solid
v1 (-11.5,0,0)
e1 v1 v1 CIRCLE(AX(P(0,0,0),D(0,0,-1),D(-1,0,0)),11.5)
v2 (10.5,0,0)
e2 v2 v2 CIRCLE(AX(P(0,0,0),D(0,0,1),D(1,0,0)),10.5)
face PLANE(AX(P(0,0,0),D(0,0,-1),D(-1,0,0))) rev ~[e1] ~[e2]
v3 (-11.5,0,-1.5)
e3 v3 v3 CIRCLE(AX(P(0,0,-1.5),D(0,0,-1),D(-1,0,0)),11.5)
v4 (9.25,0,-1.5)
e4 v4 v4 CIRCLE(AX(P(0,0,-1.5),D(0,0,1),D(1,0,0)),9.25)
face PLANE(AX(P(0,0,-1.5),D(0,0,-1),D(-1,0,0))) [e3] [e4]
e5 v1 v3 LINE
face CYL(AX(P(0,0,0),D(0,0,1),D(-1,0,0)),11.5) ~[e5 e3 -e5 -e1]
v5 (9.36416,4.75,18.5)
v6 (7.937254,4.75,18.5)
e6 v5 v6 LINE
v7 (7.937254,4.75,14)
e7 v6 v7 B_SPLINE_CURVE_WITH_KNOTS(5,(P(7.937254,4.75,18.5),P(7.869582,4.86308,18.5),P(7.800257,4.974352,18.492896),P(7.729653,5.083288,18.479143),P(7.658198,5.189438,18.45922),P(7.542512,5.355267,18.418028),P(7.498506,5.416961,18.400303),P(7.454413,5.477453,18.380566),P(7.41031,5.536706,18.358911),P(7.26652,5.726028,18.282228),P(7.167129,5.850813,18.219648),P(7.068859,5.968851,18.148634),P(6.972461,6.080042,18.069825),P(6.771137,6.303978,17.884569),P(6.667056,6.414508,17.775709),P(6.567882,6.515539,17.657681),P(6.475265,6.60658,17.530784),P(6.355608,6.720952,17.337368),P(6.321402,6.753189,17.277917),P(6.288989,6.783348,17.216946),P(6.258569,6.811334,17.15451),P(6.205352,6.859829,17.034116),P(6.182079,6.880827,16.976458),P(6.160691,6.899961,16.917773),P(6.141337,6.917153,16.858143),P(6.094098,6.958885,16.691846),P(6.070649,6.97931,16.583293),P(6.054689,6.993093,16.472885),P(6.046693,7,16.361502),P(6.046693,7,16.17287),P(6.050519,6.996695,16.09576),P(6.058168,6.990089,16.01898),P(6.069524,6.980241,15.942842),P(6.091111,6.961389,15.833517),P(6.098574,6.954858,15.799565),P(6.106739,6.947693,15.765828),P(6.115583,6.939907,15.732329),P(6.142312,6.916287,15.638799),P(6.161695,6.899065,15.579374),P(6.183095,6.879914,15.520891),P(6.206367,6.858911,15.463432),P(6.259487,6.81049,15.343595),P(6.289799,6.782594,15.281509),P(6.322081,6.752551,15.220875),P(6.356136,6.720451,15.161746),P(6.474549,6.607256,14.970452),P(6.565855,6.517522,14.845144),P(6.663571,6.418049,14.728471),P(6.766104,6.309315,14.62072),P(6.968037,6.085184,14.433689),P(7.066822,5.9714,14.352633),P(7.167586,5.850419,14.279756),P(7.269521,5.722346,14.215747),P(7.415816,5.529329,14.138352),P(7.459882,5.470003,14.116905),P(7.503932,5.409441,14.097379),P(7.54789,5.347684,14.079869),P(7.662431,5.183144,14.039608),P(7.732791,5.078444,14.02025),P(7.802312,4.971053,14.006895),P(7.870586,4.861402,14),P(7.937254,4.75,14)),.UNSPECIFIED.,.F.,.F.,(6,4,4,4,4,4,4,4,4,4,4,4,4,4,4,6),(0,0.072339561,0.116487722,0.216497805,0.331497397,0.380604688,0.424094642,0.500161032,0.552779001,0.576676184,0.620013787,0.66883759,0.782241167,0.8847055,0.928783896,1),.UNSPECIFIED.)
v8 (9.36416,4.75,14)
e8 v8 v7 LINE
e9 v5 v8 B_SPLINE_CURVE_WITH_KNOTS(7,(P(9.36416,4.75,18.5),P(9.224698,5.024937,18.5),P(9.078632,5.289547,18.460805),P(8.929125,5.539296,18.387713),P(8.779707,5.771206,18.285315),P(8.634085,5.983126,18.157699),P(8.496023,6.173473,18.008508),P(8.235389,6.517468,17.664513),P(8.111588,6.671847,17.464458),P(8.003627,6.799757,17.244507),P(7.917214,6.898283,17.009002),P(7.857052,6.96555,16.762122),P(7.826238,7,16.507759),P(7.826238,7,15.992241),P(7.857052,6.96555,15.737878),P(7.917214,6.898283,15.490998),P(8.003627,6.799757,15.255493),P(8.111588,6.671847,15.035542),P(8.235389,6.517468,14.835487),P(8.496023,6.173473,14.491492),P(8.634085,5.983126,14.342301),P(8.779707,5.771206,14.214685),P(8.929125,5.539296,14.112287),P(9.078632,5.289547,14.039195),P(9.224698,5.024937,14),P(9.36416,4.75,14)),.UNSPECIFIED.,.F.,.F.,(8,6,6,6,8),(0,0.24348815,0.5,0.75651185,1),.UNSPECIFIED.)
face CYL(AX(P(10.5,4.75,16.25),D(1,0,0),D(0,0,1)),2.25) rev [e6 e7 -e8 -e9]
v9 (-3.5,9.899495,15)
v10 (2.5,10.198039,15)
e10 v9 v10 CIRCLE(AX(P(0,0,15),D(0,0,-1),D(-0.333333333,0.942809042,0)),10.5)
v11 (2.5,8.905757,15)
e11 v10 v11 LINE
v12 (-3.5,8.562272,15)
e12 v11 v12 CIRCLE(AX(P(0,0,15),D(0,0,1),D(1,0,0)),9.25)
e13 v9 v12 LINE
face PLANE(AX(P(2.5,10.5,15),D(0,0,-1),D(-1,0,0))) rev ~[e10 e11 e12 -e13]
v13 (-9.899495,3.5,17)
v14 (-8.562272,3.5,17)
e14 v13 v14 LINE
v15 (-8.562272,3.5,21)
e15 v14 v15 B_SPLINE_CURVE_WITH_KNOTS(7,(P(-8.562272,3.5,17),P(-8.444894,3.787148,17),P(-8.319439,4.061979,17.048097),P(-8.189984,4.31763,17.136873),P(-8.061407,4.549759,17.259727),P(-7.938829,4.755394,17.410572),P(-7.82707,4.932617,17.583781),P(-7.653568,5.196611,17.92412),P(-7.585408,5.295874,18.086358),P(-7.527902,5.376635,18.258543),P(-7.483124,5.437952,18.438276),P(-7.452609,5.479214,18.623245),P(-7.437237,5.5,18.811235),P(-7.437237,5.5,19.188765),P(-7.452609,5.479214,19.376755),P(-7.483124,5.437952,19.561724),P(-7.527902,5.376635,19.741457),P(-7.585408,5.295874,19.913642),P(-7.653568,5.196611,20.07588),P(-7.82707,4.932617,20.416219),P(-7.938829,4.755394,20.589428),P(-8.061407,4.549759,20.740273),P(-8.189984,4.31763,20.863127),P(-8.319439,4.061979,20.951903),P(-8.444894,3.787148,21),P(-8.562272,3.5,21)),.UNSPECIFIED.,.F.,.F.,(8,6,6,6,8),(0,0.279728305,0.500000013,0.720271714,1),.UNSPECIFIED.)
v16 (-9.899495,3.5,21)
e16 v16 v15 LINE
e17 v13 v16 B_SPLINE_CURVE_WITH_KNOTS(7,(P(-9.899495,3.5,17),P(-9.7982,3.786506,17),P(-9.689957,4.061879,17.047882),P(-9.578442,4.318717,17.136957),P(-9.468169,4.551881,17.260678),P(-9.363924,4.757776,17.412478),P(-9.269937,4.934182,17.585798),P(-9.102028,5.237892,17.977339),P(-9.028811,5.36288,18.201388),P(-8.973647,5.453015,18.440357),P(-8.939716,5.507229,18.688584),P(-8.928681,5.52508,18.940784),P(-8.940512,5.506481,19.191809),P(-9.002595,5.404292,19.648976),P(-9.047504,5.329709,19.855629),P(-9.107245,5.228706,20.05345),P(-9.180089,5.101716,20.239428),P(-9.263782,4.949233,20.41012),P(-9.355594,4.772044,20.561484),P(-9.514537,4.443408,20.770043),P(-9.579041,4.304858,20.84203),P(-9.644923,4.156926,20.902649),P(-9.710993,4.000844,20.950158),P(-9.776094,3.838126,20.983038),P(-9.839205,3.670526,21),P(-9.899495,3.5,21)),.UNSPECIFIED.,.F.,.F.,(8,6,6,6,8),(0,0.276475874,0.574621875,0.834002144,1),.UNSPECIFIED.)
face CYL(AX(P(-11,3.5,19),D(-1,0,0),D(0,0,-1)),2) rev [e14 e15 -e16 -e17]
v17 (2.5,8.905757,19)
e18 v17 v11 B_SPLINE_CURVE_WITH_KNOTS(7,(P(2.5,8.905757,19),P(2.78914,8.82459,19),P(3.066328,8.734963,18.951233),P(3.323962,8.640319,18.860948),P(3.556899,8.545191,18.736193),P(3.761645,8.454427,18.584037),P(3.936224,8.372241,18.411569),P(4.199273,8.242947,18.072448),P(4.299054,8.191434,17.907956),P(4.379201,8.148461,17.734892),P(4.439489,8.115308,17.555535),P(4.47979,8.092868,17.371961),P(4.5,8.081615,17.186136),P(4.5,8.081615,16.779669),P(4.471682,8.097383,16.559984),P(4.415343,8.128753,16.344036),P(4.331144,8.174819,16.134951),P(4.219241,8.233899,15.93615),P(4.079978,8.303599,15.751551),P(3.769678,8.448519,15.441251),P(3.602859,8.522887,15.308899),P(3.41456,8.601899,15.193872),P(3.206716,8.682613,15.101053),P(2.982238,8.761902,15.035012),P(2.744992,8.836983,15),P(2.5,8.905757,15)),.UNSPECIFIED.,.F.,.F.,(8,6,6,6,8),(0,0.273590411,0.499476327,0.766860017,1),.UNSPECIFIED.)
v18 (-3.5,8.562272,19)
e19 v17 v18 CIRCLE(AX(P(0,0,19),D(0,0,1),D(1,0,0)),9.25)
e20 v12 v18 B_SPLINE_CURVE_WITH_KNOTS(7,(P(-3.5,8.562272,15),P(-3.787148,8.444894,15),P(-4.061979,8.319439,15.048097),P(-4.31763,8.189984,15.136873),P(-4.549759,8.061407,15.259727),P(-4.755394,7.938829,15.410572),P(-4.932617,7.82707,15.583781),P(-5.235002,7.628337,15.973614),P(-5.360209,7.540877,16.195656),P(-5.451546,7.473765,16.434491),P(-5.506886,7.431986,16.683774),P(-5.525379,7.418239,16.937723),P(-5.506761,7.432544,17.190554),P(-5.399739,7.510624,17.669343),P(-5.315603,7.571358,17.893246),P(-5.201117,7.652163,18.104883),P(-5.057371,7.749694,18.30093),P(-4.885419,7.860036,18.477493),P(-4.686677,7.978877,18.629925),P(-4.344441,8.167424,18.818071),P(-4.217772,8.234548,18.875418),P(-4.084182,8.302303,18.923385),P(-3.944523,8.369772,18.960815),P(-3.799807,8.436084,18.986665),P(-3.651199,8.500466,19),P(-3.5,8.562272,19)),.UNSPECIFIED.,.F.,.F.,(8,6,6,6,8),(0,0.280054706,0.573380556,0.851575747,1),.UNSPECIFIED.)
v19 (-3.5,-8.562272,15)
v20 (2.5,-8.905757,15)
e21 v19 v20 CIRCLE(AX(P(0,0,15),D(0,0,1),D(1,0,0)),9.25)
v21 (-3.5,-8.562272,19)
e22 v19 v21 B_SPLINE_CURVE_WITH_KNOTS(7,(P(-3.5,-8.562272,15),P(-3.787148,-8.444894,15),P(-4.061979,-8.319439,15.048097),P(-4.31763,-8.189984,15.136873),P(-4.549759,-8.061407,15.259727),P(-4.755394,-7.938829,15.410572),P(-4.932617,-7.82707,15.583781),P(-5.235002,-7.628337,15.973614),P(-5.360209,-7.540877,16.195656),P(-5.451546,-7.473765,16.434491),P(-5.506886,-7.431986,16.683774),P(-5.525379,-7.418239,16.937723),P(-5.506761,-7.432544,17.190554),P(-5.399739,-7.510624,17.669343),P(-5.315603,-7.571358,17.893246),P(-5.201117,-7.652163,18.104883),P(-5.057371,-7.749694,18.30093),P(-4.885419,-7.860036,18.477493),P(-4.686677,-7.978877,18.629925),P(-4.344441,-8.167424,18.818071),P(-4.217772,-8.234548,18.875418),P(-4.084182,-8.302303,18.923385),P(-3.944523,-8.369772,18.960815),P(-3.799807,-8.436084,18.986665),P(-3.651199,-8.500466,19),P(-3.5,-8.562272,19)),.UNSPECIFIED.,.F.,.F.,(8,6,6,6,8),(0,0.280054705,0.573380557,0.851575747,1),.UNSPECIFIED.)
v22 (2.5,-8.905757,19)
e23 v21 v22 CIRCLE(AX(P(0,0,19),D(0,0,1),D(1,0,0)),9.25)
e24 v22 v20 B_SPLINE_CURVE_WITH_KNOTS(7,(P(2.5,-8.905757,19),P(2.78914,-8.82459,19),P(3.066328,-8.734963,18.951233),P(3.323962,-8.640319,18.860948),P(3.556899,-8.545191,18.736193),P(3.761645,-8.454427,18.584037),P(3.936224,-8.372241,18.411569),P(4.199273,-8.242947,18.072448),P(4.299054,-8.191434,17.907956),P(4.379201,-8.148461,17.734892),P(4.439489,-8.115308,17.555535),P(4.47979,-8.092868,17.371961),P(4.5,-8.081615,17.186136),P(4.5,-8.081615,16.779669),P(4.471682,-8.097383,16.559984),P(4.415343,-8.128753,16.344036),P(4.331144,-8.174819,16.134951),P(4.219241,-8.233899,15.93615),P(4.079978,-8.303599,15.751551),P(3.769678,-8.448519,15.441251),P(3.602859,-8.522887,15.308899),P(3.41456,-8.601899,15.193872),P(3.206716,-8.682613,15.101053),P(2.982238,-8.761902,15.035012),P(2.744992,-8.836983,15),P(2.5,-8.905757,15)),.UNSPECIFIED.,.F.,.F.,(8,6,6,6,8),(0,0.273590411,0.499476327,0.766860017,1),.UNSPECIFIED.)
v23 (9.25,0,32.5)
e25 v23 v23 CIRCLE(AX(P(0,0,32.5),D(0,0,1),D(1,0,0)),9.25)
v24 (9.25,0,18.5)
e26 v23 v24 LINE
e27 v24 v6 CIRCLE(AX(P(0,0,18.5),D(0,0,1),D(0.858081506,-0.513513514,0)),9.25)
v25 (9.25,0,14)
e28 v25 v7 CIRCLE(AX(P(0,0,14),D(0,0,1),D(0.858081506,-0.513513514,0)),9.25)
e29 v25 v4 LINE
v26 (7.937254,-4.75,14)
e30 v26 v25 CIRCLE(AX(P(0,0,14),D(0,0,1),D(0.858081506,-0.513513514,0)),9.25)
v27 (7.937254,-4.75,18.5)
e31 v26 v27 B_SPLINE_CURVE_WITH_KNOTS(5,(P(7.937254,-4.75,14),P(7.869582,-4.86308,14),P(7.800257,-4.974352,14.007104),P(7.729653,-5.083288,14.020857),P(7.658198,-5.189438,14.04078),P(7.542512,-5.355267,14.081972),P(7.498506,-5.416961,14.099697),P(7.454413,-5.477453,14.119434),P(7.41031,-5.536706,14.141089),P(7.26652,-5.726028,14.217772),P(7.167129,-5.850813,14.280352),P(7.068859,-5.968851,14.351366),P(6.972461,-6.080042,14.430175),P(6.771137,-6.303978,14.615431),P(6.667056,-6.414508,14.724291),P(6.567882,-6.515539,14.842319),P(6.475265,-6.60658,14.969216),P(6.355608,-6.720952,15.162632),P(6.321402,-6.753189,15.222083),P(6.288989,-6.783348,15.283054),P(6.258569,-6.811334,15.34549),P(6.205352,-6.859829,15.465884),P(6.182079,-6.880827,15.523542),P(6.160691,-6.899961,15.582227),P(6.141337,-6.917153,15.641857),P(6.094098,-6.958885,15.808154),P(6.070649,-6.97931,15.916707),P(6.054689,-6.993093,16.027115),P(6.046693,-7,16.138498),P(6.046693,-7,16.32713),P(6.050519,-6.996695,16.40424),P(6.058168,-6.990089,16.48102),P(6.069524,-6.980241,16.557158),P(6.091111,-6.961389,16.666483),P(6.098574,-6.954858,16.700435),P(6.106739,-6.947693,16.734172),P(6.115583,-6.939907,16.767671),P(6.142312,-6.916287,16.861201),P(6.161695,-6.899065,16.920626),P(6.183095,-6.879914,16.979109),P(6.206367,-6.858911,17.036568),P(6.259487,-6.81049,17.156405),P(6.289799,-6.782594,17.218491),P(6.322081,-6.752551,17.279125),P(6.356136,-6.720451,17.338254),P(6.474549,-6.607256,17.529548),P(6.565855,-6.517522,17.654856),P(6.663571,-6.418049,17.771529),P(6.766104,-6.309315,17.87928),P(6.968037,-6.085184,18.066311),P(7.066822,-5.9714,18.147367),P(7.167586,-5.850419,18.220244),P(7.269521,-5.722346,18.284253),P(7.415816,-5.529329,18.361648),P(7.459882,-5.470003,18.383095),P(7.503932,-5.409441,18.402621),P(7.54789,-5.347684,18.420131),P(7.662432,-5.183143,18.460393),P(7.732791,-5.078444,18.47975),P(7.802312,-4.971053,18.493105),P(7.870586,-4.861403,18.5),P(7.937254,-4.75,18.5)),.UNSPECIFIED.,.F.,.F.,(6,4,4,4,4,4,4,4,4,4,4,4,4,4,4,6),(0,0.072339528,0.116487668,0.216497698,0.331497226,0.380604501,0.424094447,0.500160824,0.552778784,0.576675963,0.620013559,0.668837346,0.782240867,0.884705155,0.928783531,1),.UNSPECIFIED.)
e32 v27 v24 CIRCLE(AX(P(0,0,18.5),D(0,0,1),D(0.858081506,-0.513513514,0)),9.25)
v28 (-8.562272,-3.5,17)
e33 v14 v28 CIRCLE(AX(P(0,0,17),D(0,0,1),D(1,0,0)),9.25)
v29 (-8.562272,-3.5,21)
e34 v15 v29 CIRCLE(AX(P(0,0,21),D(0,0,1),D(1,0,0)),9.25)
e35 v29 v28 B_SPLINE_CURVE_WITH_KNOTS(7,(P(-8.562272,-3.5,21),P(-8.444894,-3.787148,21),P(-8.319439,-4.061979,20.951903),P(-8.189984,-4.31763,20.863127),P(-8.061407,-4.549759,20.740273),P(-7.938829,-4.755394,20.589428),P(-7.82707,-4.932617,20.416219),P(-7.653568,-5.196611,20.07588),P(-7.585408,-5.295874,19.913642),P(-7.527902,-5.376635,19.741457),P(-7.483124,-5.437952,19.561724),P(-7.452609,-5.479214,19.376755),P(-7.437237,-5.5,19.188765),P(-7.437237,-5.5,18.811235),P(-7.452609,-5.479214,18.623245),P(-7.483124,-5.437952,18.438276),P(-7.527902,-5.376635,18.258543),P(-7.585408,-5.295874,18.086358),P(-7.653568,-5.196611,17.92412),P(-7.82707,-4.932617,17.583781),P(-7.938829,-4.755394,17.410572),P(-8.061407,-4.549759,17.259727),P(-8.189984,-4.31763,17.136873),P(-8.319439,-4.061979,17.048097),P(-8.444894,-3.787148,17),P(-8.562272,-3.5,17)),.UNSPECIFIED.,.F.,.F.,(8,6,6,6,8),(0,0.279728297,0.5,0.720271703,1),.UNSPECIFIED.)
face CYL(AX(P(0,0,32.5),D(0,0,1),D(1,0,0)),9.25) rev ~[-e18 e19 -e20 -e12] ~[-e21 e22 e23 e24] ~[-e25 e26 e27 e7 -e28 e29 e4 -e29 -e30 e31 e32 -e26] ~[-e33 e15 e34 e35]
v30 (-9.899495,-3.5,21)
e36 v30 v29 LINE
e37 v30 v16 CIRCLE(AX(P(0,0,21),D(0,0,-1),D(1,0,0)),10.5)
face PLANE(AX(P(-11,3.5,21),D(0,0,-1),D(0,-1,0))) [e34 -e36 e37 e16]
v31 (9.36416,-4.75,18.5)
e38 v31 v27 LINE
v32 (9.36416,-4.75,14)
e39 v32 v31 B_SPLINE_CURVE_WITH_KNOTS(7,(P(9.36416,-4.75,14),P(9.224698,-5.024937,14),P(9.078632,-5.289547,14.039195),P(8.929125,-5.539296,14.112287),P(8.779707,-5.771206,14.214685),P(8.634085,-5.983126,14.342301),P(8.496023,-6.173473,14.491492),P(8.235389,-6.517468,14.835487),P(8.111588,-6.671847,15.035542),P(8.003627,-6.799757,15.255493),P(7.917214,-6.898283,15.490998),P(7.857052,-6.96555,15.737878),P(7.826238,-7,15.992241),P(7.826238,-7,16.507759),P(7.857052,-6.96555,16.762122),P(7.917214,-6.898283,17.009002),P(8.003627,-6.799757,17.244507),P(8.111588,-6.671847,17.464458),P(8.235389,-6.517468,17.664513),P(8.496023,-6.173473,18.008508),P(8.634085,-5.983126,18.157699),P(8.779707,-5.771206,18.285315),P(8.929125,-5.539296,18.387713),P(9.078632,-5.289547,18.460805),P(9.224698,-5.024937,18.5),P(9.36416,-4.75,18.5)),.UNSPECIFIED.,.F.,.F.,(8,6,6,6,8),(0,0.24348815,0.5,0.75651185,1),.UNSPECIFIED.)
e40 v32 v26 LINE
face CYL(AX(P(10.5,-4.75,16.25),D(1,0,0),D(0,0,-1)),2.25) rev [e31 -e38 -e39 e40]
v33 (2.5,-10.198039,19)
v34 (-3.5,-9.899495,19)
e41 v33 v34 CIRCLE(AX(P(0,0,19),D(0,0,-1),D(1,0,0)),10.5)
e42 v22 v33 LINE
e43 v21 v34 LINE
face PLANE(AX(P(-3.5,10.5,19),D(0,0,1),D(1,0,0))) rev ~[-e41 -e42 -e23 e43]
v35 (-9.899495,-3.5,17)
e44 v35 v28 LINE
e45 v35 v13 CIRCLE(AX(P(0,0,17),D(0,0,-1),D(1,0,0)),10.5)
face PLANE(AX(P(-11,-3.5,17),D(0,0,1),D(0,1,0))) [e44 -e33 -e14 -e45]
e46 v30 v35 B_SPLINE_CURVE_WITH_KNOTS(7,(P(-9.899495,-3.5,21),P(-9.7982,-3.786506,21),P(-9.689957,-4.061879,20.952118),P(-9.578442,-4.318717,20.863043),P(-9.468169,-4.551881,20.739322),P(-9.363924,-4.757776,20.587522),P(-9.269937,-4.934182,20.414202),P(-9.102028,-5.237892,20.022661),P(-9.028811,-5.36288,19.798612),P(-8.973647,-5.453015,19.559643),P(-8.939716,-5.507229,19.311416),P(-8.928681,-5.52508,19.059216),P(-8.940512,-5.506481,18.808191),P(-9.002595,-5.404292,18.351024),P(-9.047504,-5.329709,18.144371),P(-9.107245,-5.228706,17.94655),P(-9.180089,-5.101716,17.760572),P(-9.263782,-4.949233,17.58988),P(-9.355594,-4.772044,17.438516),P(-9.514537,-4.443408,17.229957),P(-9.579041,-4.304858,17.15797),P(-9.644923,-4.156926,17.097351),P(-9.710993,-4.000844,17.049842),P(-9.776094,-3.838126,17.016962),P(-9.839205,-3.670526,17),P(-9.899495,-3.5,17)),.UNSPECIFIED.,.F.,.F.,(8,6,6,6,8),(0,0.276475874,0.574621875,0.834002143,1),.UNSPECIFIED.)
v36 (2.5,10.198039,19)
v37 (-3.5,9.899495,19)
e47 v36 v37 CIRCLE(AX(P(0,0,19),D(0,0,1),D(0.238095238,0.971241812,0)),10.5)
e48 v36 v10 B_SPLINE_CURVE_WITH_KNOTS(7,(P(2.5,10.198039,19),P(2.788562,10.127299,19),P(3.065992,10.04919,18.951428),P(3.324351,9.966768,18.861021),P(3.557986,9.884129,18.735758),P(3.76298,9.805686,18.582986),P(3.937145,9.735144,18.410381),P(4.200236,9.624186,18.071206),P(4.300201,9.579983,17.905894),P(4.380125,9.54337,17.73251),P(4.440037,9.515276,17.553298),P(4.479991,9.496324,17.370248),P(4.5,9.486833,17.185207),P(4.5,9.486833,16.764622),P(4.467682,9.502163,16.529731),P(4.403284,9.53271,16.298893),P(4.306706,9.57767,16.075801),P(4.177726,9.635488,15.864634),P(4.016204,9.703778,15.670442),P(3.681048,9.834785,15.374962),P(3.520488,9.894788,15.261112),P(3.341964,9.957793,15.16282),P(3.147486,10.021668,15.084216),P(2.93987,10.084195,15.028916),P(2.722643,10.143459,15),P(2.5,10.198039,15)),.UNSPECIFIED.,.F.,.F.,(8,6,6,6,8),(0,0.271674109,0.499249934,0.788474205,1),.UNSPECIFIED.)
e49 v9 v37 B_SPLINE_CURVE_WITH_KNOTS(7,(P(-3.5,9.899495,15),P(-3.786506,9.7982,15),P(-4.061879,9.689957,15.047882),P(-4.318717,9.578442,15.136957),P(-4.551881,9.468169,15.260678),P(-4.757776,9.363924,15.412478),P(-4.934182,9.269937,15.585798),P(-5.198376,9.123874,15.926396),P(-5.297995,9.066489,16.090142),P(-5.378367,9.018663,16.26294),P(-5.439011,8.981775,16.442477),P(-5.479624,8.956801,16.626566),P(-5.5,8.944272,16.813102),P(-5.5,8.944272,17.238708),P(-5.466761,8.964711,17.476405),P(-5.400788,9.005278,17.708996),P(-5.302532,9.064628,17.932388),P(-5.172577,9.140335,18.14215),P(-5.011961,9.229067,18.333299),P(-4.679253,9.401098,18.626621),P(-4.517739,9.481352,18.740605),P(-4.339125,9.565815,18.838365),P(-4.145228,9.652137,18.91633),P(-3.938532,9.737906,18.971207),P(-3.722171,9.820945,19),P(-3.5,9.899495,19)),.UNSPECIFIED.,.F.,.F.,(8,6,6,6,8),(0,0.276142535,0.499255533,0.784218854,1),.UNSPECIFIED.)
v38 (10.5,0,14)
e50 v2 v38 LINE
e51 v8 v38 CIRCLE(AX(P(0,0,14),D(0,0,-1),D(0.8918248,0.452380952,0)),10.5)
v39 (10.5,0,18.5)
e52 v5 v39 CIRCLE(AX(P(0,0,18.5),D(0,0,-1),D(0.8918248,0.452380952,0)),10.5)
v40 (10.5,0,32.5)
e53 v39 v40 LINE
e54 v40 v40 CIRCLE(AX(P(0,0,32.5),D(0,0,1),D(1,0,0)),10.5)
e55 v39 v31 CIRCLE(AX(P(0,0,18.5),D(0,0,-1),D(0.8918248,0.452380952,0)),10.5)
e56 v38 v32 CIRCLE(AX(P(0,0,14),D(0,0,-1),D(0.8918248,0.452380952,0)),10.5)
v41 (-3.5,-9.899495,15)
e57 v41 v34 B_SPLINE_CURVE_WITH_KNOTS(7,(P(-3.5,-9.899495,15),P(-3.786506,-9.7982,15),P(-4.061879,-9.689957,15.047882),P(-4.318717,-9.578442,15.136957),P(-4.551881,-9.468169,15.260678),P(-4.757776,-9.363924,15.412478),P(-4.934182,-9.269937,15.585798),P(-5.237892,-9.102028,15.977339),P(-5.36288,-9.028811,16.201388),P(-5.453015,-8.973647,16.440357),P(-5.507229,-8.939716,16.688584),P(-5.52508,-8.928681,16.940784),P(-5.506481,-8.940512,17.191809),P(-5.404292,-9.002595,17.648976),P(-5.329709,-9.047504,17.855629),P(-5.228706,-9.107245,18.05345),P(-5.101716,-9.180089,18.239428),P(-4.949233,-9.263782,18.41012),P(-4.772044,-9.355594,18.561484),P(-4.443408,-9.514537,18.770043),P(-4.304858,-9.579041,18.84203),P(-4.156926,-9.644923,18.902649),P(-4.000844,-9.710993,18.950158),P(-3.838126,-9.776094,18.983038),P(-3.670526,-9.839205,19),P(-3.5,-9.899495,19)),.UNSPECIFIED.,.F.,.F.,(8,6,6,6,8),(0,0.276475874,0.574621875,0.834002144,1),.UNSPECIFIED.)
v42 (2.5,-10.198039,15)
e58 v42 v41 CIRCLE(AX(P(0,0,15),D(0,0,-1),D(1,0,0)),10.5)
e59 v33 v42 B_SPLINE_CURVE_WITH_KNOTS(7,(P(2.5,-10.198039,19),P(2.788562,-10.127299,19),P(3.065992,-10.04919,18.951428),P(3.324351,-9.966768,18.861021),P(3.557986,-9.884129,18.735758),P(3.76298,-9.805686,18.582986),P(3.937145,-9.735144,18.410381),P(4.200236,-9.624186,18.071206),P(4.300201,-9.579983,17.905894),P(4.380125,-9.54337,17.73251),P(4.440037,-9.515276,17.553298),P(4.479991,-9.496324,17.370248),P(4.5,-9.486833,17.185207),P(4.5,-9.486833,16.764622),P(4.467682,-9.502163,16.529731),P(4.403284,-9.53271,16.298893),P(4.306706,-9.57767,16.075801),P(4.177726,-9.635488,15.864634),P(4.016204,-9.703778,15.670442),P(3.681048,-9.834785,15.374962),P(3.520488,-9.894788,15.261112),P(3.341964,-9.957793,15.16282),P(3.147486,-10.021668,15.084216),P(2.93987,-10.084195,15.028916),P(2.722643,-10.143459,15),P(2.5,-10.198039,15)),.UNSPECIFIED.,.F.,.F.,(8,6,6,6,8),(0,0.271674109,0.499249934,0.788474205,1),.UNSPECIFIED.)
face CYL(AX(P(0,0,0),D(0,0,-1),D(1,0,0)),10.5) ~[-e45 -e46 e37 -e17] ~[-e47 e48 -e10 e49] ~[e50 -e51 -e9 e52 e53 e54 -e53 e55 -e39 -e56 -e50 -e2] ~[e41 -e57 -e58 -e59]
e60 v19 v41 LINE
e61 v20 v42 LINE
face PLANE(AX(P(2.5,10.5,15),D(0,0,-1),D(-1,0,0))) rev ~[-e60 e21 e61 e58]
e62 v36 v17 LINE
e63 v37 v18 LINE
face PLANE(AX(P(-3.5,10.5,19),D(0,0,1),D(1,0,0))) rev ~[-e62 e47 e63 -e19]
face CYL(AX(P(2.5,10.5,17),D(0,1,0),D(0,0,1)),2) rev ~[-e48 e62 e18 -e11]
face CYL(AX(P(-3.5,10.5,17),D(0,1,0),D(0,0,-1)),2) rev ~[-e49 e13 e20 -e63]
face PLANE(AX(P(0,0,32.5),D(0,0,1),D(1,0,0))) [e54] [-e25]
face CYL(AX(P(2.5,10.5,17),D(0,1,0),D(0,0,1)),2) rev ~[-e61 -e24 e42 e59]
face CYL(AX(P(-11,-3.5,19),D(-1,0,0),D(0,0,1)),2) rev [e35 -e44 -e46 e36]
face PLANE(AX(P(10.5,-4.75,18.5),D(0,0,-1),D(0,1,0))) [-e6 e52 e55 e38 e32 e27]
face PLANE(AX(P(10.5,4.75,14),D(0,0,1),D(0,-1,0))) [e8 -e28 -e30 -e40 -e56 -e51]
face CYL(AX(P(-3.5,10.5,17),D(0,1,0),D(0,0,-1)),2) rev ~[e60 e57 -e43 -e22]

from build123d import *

# Parameters (mm, degrees)
ESQUISSE1_R             = 10.5
BASE_EXTRUSION_DEPTH    = 32.5
ESQUISSE3_R             = 11.5
BOSS_EXTRU_1_DEPTH      = 1.5
ESQUISSE2_R             = 9.25
ENL_V_MAT_EXTRU_1_DEPTH = 38.68952109
ENL_V_MAT_EXTRU_2_REACH = 42.896
ENL_V_MAT_EXTRU_3_DEPTH = 41.896210173
ENL_V_MAT_EXTRU_5_REACH = 43.167


with BuildPart() as part:
    # Esquisse1 → Base-Extrusion (new body)
    with BuildSketch(Plane.XY):
        Circle(ESQUISSE1_R)
    extrude(amount=BASE_EXTRUSION_DEPTH)

    # Esquisse3 → Boss.-Extru.1 (add)
    with BuildSketch(Plane(origin=(0, 0, 0), x_dir=(-1, 0, 0), z_dir=(0, 0, -1))):
        Circle(ESQUISSE3_R)
    extrude(amount=BOSS_EXTRU_1_DEPTH)

    # Esquisse2 → Enlèv. mat.-Extru.1 (cut, through all)
    with BuildSketch(Plane.XY.offset(32.5)):
        Circle(ESQUISSE2_R)
    extrude(amount=-ENL_V_MAT_EXTRU_1_DEPTH, mode=Mode.SUBTRACT)

    # Esquisse4 → Enlèv. mat.-Extru.2 (cut, up to next)
    with BuildSketch(Plane(origin=(10.5, 0, 0), x_dir=(0, 0, -1), z_dir=(1, 0, 0)), mode=Mode.PRIVATE) as enl_v_mat_extru_2_sk1:
        with BuildLine():
            Line((-14, 4.75), (-14, -4.75))
            ThreePointArc((-14, -4.75), (-16.25, -7), (-18.5, -4.75))
            Line((-18.5, -4.75), (-18.5, 4.75))
            ThreePointArc((-18.5, 4.75), (-16.25, 7), (-14, 4.75))
        make_face()
    enl_v_mat_extru_2_tool1 = extrude(enl_v_mat_extru_2_sk1.sketch, amount=-ENL_V_MAT_EXTRU_2_REACH, mode=Mode.PRIVATE) & part.part
    add(enl_v_mat_extru_2_tool1.solids().sort_by_distance((10.5, 0, 16.25))[0], mode=Mode.SUBTRACT)

    # Esquisse5 → Enlèv. mat.-Extru.3 (cut, through all)
    with BuildSketch(Plane(origin=(0, 10.5, 0), x_dir=(-1, 0, 0), z_dir=(0, 1, 0))):
        with BuildLine():
            Line((3.5, 19), (-2.5, 19))
            ThreePointArc((-2.5, 19), (-4.5, 17), (-2.5, 15))
            Line((-2.5, 15), (3.5, 15))
            ThreePointArc((3.5, 15), (5.5, 17), (3.5, 19))
        make_face()
    extrude(amount=-ENL_V_MAT_EXTRU_3_DEPTH, mode=Mode.SUBTRACT)

    # Esquisse7 → Enlèv. mat.-Extru.5 (cut, up to next)
    with BuildSketch(Plane(origin=(-11, 0, 0), x_dir=(0, 0, -1), z_dir=(1, 0, 0)), mode=Mode.PRIVATE) as enl_v_mat_extru_5_sk1:
        with BuildLine():
            Line((-17, -3.5), (-17, 3.5))
            ThreePointArc((-17, 3.5), (-19, 5.5), (-21, 3.5))
            Line((-21, 3.5), (-21, -3.5))
            ThreePointArc((-21, -3.5), (-19, -5.5), (-17, -3.5))
        make_face()
    enl_v_mat_extru_5_tool1 = extrude(enl_v_mat_extru_5_sk1.sketch, amount=ENL_V_MAT_EXTRU_5_REACH, mode=Mode.PRIVATE) & part.part
    add(enl_v_mat_extru_5_tool1.solids().sort_by_distance((-11, 0, 19))[0], mode=Mode.SUBTRACT)


solid = part.part
